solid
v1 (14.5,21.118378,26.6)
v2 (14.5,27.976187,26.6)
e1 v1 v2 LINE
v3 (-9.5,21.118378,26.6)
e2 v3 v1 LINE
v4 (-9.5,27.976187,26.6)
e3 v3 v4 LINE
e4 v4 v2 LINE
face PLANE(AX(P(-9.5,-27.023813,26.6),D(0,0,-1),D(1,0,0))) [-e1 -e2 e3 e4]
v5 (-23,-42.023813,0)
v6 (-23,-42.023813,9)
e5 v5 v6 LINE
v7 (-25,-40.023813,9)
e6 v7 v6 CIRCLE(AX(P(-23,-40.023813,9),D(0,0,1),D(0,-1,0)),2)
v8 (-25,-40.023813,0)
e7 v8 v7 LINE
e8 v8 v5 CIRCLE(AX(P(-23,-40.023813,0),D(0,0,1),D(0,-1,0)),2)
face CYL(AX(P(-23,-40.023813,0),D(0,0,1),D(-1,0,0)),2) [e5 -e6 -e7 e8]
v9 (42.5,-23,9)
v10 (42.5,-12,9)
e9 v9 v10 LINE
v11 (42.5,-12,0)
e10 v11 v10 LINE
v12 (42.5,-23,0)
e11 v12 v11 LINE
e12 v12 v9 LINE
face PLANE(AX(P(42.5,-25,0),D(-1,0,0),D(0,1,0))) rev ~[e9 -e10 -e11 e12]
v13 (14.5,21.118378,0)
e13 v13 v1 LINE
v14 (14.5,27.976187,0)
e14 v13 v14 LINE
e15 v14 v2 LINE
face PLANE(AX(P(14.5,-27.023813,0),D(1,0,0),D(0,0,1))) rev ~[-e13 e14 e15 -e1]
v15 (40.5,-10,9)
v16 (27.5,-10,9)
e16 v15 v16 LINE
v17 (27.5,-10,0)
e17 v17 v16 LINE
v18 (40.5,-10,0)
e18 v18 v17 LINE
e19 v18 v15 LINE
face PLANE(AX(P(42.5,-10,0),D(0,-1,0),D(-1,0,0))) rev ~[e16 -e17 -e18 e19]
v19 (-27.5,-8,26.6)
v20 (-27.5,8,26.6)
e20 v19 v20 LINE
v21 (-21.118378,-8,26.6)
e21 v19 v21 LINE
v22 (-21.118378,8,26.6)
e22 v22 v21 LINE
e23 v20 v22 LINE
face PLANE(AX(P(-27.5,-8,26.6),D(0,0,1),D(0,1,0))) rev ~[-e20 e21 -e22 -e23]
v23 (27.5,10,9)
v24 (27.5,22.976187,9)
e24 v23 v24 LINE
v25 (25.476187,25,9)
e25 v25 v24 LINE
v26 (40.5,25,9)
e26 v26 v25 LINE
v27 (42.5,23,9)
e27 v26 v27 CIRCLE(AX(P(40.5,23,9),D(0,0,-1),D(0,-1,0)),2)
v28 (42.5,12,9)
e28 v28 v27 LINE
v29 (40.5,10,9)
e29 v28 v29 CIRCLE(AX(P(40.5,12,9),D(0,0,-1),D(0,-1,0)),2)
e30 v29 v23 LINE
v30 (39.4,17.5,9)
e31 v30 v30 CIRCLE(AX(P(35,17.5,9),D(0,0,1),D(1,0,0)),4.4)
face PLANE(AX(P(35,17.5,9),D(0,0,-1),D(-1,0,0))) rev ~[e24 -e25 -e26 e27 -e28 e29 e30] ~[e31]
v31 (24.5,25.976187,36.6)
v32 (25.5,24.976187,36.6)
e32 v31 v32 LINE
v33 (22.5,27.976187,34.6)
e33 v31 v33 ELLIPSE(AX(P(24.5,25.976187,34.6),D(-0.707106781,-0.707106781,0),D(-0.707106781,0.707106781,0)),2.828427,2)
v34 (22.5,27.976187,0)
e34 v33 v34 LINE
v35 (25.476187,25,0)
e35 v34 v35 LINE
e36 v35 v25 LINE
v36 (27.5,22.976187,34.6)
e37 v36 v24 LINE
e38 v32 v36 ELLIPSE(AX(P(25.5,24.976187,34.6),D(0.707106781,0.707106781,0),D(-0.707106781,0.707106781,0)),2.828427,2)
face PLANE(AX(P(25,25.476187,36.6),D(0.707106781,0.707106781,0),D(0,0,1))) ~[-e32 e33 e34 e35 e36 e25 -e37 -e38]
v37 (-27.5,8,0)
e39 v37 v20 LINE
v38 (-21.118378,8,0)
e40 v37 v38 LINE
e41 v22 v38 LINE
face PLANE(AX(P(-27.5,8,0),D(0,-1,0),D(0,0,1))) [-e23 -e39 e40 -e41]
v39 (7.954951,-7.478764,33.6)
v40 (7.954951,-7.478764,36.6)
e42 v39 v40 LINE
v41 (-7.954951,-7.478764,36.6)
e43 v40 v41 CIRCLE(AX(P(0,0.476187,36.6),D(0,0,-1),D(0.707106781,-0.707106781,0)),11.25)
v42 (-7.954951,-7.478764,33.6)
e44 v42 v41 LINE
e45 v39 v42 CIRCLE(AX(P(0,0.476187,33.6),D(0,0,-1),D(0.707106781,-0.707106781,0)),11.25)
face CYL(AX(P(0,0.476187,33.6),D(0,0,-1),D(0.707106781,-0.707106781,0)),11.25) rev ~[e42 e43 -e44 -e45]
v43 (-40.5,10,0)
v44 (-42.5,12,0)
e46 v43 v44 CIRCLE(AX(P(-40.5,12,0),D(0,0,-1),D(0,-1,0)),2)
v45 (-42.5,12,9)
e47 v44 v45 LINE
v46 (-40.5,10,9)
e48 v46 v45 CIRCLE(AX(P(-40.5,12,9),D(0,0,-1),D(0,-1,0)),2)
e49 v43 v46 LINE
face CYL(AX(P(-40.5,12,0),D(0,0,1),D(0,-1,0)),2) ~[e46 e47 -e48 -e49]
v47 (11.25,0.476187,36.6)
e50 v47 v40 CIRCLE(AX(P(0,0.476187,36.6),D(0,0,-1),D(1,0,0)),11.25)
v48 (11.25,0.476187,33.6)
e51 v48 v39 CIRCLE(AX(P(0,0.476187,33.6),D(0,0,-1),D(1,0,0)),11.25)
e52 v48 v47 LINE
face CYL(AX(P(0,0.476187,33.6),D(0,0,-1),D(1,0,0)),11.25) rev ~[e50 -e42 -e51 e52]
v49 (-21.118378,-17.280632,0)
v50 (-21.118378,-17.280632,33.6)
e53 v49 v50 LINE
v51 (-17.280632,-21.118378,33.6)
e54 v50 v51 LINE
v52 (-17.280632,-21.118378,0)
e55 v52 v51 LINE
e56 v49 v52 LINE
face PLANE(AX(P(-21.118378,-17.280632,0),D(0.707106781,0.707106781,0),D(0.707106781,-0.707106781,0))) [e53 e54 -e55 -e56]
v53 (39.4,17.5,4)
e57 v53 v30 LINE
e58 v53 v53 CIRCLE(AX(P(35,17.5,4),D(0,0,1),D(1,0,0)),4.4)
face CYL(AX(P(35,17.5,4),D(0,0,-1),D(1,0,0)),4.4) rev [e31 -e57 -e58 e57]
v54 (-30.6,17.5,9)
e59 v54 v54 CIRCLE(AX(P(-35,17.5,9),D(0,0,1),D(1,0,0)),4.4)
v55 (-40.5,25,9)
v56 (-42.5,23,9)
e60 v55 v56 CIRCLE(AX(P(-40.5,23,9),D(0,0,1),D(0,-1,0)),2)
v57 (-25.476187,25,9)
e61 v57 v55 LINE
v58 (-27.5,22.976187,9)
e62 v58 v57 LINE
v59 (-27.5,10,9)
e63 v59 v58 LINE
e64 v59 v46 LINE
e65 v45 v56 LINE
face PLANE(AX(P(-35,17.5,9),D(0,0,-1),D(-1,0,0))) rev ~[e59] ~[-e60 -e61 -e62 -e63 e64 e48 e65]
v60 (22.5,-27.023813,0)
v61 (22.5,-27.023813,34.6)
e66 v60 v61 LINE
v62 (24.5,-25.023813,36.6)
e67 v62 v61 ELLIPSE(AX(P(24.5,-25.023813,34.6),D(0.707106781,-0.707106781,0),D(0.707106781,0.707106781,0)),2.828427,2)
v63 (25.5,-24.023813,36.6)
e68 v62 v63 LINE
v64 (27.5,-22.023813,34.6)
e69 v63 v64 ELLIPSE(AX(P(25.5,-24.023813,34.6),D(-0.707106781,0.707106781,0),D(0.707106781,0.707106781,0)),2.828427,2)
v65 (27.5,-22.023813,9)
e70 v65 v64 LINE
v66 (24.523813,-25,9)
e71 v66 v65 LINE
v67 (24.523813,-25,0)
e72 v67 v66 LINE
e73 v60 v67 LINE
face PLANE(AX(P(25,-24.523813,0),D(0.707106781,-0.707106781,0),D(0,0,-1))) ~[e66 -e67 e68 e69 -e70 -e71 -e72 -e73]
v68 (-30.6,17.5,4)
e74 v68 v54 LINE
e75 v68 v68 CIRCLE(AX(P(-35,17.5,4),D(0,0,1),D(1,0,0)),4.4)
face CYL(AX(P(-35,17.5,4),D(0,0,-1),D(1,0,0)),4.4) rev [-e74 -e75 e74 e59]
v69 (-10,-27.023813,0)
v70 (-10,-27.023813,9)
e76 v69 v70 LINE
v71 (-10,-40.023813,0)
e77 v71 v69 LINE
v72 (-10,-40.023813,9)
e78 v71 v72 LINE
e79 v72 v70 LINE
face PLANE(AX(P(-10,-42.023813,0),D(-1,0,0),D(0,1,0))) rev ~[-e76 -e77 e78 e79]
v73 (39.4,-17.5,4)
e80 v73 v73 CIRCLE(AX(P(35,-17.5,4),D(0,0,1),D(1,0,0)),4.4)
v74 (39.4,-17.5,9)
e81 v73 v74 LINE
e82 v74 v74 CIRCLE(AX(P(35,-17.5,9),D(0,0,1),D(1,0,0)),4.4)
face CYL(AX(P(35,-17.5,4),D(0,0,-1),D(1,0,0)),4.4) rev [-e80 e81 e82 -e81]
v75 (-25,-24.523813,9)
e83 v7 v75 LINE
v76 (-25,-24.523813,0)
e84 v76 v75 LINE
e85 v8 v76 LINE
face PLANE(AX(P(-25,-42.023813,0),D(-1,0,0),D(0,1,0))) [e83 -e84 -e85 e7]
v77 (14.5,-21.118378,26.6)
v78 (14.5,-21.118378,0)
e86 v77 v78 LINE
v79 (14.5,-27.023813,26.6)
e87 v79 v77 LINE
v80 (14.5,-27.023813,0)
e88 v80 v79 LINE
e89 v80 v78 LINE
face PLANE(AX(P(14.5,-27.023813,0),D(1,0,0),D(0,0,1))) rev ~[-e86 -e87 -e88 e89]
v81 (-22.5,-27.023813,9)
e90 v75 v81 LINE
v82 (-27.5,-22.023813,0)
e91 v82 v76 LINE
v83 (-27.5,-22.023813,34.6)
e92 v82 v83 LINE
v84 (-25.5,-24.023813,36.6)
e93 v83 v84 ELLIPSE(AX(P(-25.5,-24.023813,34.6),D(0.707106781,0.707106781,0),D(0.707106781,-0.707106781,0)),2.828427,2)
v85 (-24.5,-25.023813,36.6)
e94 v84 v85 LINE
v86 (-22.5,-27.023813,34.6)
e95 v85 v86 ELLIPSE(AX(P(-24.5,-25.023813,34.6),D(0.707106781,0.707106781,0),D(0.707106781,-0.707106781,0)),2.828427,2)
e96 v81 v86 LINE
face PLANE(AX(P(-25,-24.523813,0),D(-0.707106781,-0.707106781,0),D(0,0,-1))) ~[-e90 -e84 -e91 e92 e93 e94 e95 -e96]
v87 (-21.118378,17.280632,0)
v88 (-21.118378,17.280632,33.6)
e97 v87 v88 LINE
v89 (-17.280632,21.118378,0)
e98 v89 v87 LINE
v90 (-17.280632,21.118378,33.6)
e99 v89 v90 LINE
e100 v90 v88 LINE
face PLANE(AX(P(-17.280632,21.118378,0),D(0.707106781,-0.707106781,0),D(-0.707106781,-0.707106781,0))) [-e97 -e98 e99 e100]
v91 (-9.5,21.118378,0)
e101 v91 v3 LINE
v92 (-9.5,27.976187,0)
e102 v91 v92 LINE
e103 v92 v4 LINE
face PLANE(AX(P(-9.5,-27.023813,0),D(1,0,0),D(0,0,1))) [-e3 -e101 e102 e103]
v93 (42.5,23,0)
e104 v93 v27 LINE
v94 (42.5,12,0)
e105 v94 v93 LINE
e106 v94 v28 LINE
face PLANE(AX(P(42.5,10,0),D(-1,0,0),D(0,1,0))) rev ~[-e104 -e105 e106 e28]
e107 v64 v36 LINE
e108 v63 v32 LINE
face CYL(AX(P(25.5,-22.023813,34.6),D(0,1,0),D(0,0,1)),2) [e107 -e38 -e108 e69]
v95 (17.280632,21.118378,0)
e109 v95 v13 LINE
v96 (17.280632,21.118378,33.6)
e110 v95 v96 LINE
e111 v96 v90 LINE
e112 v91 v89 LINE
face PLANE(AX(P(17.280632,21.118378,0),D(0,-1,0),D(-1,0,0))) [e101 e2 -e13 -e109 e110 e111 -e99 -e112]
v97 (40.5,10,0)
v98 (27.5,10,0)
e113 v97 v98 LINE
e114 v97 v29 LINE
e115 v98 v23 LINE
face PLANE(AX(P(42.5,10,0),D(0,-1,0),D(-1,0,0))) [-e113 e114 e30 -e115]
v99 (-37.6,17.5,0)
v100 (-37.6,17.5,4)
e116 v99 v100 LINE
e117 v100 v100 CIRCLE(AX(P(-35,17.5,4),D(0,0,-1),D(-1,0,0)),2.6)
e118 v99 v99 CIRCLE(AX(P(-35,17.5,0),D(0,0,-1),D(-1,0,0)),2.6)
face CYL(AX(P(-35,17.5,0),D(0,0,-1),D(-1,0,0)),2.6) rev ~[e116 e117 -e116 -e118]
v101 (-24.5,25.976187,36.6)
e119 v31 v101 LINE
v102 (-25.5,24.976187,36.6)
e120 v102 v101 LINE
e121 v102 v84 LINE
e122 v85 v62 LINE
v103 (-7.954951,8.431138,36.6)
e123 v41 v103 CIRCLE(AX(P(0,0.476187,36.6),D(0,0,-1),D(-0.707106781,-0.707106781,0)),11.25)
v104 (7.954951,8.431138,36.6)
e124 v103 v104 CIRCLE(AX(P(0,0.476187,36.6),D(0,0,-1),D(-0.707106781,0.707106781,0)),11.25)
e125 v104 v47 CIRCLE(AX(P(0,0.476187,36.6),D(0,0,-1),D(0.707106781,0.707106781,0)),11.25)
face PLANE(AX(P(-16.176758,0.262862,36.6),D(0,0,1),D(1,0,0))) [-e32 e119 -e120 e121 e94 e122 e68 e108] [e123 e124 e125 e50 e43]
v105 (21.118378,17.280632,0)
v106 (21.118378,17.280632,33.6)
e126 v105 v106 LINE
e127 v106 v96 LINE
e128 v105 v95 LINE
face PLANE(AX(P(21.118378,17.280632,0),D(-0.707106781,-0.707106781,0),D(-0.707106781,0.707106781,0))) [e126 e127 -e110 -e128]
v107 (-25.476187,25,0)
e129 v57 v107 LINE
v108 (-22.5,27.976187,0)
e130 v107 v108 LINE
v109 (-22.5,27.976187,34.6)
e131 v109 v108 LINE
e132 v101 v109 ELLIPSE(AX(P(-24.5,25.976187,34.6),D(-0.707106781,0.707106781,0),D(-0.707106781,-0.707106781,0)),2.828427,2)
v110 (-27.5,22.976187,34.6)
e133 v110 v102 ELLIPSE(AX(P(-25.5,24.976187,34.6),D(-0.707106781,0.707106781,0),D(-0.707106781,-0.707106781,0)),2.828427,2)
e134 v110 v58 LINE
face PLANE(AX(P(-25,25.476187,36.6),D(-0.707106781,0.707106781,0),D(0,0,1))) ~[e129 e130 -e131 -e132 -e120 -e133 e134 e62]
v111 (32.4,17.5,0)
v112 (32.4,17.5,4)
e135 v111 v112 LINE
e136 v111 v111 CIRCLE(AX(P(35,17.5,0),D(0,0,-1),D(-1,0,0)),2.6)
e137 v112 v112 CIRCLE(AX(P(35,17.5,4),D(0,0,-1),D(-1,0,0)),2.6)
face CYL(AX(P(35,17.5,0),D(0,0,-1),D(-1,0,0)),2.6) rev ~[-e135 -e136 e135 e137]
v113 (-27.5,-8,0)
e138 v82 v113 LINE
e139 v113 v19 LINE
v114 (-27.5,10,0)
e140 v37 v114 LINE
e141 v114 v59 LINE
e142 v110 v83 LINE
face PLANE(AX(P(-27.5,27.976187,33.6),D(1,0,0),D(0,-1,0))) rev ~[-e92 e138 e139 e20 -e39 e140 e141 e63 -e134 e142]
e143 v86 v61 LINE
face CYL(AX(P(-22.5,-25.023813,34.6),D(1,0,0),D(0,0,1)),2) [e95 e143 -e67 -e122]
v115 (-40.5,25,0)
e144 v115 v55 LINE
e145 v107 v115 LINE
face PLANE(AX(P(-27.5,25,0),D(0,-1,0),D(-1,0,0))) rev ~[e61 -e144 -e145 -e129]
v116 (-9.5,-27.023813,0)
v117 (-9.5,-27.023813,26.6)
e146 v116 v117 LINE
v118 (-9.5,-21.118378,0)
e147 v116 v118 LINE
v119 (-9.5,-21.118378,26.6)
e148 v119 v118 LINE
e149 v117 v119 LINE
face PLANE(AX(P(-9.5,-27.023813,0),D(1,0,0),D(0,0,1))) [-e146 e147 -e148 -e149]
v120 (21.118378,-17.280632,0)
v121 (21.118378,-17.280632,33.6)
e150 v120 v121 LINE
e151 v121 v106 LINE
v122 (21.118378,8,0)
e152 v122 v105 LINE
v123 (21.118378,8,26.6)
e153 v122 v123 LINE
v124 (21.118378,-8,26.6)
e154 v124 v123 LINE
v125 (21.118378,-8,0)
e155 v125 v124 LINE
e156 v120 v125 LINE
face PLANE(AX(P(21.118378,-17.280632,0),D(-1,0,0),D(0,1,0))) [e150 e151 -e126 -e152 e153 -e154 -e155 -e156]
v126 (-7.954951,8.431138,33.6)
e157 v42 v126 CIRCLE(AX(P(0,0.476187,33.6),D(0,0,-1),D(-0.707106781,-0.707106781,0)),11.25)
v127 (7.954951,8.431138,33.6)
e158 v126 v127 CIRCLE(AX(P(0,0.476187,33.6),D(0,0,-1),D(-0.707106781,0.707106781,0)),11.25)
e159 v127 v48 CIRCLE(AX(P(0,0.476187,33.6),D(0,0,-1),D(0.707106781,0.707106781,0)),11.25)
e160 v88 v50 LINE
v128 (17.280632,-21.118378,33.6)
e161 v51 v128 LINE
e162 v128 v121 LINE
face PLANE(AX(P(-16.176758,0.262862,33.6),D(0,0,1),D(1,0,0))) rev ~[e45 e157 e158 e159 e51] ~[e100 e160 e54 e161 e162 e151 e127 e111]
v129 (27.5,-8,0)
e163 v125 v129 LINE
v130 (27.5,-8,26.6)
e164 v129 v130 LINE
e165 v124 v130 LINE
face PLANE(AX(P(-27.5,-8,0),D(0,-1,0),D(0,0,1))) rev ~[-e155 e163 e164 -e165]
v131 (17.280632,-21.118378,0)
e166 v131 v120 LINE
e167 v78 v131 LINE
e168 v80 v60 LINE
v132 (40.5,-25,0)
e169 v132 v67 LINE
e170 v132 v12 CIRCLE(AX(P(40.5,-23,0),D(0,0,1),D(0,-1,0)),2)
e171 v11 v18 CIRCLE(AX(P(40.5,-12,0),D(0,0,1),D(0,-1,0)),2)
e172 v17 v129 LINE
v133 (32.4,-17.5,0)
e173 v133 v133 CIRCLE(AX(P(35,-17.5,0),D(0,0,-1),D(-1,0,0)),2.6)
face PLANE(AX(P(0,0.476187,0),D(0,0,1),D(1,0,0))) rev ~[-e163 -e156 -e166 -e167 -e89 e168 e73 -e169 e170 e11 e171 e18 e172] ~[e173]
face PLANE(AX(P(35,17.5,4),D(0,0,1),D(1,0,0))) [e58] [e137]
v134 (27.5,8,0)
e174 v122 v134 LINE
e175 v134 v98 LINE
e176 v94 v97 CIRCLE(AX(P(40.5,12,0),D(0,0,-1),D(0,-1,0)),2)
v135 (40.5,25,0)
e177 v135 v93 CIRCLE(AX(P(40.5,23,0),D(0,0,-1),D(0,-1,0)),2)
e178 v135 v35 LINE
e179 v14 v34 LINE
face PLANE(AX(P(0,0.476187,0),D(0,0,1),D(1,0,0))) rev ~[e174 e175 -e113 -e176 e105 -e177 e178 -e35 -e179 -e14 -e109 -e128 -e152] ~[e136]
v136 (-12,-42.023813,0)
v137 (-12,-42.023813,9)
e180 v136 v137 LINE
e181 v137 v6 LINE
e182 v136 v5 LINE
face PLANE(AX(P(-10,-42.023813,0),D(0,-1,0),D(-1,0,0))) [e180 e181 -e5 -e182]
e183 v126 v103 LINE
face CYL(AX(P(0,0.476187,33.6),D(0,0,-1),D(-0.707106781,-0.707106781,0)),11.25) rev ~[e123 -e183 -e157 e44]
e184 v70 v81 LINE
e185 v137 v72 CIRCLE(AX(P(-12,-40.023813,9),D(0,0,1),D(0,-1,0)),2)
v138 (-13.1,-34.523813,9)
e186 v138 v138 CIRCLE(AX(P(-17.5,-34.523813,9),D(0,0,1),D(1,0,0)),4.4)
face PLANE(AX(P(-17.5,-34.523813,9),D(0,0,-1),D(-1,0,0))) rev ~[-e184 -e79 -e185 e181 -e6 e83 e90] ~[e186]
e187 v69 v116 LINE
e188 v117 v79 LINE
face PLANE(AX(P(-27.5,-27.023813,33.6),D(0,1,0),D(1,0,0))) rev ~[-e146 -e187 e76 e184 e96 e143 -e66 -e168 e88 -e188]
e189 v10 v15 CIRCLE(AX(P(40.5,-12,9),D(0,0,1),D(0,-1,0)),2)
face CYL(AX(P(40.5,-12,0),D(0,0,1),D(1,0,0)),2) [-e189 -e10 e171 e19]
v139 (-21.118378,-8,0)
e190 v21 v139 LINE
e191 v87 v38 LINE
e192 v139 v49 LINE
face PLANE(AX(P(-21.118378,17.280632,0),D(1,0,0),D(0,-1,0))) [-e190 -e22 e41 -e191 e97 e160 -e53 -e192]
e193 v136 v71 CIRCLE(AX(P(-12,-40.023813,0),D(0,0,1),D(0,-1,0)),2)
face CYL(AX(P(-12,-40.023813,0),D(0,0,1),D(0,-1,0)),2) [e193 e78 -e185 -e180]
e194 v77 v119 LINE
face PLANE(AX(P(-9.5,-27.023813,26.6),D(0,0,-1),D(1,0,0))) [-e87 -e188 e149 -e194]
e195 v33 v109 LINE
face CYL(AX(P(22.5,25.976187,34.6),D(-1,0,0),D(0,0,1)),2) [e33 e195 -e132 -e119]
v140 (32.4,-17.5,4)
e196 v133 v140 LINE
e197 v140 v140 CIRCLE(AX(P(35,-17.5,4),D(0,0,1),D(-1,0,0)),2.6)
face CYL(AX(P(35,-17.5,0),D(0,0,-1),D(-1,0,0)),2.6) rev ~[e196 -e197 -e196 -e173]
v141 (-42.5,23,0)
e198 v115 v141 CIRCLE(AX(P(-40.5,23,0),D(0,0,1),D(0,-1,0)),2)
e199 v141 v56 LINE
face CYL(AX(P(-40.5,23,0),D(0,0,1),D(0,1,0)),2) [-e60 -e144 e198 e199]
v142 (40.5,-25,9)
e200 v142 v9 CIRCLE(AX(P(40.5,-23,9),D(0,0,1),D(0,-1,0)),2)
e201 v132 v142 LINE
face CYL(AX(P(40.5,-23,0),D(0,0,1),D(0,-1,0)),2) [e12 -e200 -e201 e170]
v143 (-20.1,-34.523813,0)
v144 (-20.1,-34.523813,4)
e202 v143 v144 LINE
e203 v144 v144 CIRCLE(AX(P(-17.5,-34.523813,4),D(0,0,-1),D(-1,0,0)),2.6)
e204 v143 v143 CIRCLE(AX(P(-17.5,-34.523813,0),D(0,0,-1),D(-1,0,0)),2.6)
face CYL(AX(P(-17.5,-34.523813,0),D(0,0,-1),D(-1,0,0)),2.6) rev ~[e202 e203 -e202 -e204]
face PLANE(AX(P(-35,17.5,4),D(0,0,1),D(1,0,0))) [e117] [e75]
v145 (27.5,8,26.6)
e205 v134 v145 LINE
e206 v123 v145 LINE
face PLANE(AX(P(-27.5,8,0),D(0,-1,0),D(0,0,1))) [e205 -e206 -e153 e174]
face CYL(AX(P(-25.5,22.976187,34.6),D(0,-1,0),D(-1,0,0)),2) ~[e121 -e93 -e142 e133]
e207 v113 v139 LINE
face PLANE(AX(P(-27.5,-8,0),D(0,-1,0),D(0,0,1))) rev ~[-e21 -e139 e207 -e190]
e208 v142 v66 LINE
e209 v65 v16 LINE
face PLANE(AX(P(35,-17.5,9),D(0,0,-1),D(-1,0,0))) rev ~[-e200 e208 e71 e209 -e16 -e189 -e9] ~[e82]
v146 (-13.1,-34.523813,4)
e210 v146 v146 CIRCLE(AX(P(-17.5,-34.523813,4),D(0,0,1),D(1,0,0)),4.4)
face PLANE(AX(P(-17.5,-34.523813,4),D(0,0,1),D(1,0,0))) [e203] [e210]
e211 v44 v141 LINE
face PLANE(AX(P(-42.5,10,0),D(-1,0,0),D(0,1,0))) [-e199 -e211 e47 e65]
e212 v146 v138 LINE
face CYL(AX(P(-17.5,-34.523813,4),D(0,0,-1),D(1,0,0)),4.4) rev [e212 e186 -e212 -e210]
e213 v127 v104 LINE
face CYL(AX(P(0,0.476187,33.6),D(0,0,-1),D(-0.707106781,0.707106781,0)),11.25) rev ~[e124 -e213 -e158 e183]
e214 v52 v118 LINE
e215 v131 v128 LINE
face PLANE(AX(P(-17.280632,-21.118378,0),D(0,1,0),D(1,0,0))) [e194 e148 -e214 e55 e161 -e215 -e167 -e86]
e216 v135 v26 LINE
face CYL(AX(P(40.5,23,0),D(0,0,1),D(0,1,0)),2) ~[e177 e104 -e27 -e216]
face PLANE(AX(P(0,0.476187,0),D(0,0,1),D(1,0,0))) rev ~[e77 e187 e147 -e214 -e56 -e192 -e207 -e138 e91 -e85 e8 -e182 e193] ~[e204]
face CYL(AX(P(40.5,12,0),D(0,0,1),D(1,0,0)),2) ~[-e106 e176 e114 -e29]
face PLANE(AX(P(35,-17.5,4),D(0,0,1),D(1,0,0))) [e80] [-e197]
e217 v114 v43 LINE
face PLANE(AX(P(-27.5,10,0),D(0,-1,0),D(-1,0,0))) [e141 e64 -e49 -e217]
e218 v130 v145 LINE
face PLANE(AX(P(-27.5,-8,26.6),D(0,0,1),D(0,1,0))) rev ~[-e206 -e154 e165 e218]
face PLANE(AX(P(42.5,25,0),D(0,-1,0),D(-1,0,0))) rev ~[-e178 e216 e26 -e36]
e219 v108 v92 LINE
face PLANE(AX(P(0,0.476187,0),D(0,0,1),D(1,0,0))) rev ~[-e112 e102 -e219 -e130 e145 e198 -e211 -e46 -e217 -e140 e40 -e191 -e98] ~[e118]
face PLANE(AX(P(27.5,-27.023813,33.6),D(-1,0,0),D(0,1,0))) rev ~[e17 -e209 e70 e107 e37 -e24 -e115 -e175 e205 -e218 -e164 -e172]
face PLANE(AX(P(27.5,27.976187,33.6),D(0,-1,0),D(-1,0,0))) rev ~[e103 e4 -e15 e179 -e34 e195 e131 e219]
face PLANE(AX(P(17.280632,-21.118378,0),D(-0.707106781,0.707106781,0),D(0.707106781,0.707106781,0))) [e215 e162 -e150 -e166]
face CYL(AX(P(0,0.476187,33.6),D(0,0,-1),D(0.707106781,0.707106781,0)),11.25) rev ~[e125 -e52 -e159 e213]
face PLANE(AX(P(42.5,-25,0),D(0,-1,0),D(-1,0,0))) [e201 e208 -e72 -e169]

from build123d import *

# Parameters (mm, degrees)
SKETCH2_W           = 55
SKETCH2_H           = 55
BOSS_EXTRUDE1_DEPTH = 33.6
BOSS_EXTRUDE2_DEPTH = 3
SKETCH4_W           = 15
SKETCH4_H           = 15
SKETCH4_R           = 2.6
BOSS_EXTRUDE3_DEPTH = 9
CUT_EXTRUDE1_START  = -5
SKETCH6_R           = 4.4
SKETCH6_R_2         = 2.6
CUT_EXTRUDE1_DEPTH  = 5
CHAMFER1_SIZE       = 5
FILLET4_R           = 2
SKETCH7_W           = 24
SKETCH7_H           = 26.6
CUT_EXTRUDE2_DEPTH  = 67
SKETCH8_W           = 26.6
SKETCH8_H           = 16
CUT_EXTRUDE3_DEPTH  = 67


with BuildPart() as part:
    # Sketch2 → Boss-Extrude1 (new body)
    with BuildSketch(Plane.XY):
        with Locations((0, 0.476186899)):
            Rectangle(SKETCH2_W, SKETCH2_H)
        Polygon((21.118377871, -17.280631787), (21.118377871, 17.280631787), (17.280631787, 21.118377871), (-17.280631787, 21.118377871), (-21.118377871, 17.280631787), (-21.118377871, -17.280631787), (-17.280631787, -21.118377871), (17.280631787, -21.118377871), align=None, mode=Mode.SUBTRACT)
    extrude(amount=BOSS_EXTRUDE1_DEPTH)

    # Sketch3 → Boss-Extrude2 (add)
    with BuildSketch(Plane.XY.offset(33.6)):
        with BuildLine():
            Line((-7.954951288, 8.431138187), (-18.961411379, 19.437598278))
            Line((-18.961411379, 19.437598278), (-21.118377871, 17.280631787))
            Line((-21.118377871, 17.280631787), (-21.118377871, -17.280631787))
            Line((-21.118377871, -17.280631787), (-19.437598278, -18.961411379))
            Line((-19.437598278, -18.961411379), (-7.954951288, -7.478764389))
            ThreePointArc((-7.954951288, -7.478764389), (-11.25, 0.476186899), (-7.954951288, 8.431138187))
        make_face()
        with BuildLine():
            Line((-7.954951288, -7.478764389), (-19.437598278, -18.961411379))
            Line((-19.437598278, -18.961411379), (-17.280631787, -21.118377871))
            Line((-17.280631787, -21.118377871), (17.280631787, -21.118377871))
            Line((17.280631787, -21.118377871), (19.437598278, -18.961411379))
            Line((19.437598278, -18.961411379), (7.954951288, -7.478764389))
            ThreePointArc((7.954951288, -7.478764389), (0, -10.773813101), (-7.954951288, -7.478764389))
        make_face()
        with BuildLine():
            Line((21.118377871, 17.280631787), (18.961411379, 19.437598278))
            Line((18.961411379, 19.437598278), (7.954951288, 8.431138187))
            ThreePointArc((7.954951288, 8.431138187), (10.393644741, 4.781375513), (11.25, 0.476186899))
            ThreePointArc((11.25, 0.476186899), (10.393644741, -3.829001715), (7.954951288, -7.478764389))
            Line((7.954951288, -7.478764389), (19.437598278, -18.961411379))
            Line((19.437598278, -18.961411379), (21.118377871, -17.280631787))
            Line((21.118377871, -17.280631787), (21.118377871, 17.280631787))
        make_face()
        with BuildLine():
            Line((-17.280631787, 21.118377871), (-18.961411379, 19.437598278))
            Line((-18.961411379, 19.437598278), (-7.954951288, 8.431138187))
            ThreePointArc((-7.954951288, 8.431138187), (0, 11.726186899), (7.954951288, 8.431138187))
            Line((7.954951288, 8.431138187), (18.961411379, 19.437598278))
            Line((18.961411379, 19.437598278), (17.280631787, 21.118377871))
            Line((17.280631787, 21.118377871), (-17.280631787, 21.118377871))
        make_face()
        Polygon((-18.961411379, 19.437598278), (-27.5, 27.976186899), (-27.5, -27.023813101), (-19.437598278, -18.961411379), (-21.118377871, -17.280631787), (-21.118377871, 17.280631787), align=None)
        Polygon((-19.437598278, -18.961411379), (-27.5, -27.023813101), (27.5, -27.023813101), (19.437598278, -18.961411379), (17.280631787, -21.118377871), (-17.280631787, -21.118377871), align=None)
        Polygon((27.5, -27.023813101), (27.5, 27.976186899), (18.961411379, 19.437598278), (21.118377871, 17.280631787), (21.118377871, -17.280631787), (19.437598278, -18.961411379), align=None)
        Polygon((27.5, 27.976186899), (-27.5, 27.976186899), (-18.961411379, 19.437598278), (-17.280631787, 21.118377871), (17.280631787, 21.118377871), (18.961411379, 19.437598278), align=None)
    extrude(amount=BOSS_EXTRUDE2_DEPTH)

    # Sketch4 → Boss-Extrude3 (add)
    # profile 1 of 4: a face of its own
    with BuildSketch(Plane(origin=(0, 0, 0), x_dir=(-1, 0, 0), z_dir=(0, 0, -1))):
        with Locations((-35, 17.5)):
            Rectangle(SKETCH4_W, SKETCH4_H)
        with Locations((-35, 17.5)):
            Circle(SKETCH4_R, mode=Mode.SUBTRACT)
    # profile 2 of 4: a face of its own
    with BuildSketch(Plane(origin=(0, 0, 0), x_dir=(-1, 0, 0), z_dir=(0, 0, -1))):
        with Locations((35, 17.5)):
            Rectangle(SKETCH4_W, SKETCH4_H)
        with Locations((35, 17.5)):
            Circle(SKETCH4_R, mode=Mode.SUBTRACT)
    # profile 3 of 4: a face of its own
    with BuildSketch(Plane(origin=(0, 0, 0), x_dir=(-1, 0, 0), z_dir=(0, 0, -1))):
        with Locations((-35, -17.5)):
            Rectangle(SKETCH4_W, SKETCH4_H)
        with Locations((-35, -17.5)):
            Circle(SKETCH4_R, mode=Mode.SUBTRACT)
    # profile 4 of 4: a face of its own
    with BuildSketch(Plane(origin=(0, 0, 0), x_dir=(-1, 0, 0), z_dir=(0, 0, -1))):
        with Locations((17.5, -34.523813101)):
            Rectangle(SKETCH4_W, SKETCH4_H)
        with Locations((17.5, -34.523813101)):
            Circle(SKETCH4_R, mode=Mode.SUBTRACT)
    extrude(amount=-BOSS_EXTRUDE3_DEPTH)

    # Sketch6 → Cut-Extrude1 (cut)
    # profile 1 of 4: a face of its own
    with BuildSketch(Plane.XY.offset(9).offset(CUT_EXTRUDE1_START)):
        with Locations((-17.5, -34.523813101)):
            Circle(SKETCH6_R)
    # profile 2 of 4: a face of its own
    with BuildSketch(Plane.XY.offset(9).offset(CUT_EXTRUDE1_START)):
        with Locations((-35, 17.5)):
            Circle(SKETCH6_R)
    # profile 3 of 4: a face of its own
    with BuildSketch(Plane.XY.offset(9).offset(CUT_EXTRUDE1_START)):
        with Locations((35, -17.5)):
            Circle(SKETCH6_R)
        with Locations(Location((35, -17.5, 0), (0, 0, 180))):
            Circle(SKETCH6_R_2, mode=Mode.SUBTRACT)
    # profile 4 of 4: a face of its own
    with BuildSketch(Plane.XY.offset(9).offset(CUT_EXTRUDE1_START)):
        with Locations((35, 17.5)):
            Circle(SKETCH6_R)
    extrude(amount=CUT_EXTRUDE1_DEPTH, mode=Mode.SUBTRACT)

    # Chamfer1
    chamfer1_edges = [part.edges().sort_by_distance(p)[0] for p in [
        (27.5, -27.023813101, 18.3),
        (-27.5, -27.023813101, 18.3),
        (27.5, 27.976186899, 18.3),
        (-27.5, 27.976186899, 18.3),
    ]]
    chamfer(chamfer1_edges, length=CHAMFER1_SIZE)

    # Fillet4
    fillet4_edges = [part.edges().sort_by_distance(p)[0] for p in [
        (0, 27.976186899, 36.6),
        (27.5, 0.476186899, 36.6),
        (0, -27.023813101, 36.6),
        (-27.5, 0.476186899, 36.6),
        (-25, -42.023813101, 4.5),
        (-10, -42.023813101, 4.5),
        (-42.5, 10, 4.5),
        (-42.5, 25, 4.5),
        (42.5, -25, 4.5),
        (42.5, -10, 4.5),
        (42.5, 10, 4.5),
        (42.5, 25, 4.5),
    ]]
    fillet(fillet4_edges, radius=FILLET4_R)

    # Sketch7 → Cut-Extrude2 (cut)
    with BuildSketch(Plane.XZ.offset(27.023813101)):
        with Locations((2.5, 13.3)):
            Rectangle(SKETCH7_W, SKETCH7_H)
    extrude(amount=-CUT_EXTRUDE2_DEPTH, mode=Mode.SUBTRACT)

    # Sketch8 → Cut-Extrude3 (cut)
    with BuildSketch(Plane.ZY.offset(27.5)):
        with Locations((13.3, 0)):
            Rectangle(SKETCH8_W, SKETCH8_H)
    extrude(amount=-CUT_EXTRUDE3_DEPTH, mode=Mode.SUBTRACT)


solid = part.part
